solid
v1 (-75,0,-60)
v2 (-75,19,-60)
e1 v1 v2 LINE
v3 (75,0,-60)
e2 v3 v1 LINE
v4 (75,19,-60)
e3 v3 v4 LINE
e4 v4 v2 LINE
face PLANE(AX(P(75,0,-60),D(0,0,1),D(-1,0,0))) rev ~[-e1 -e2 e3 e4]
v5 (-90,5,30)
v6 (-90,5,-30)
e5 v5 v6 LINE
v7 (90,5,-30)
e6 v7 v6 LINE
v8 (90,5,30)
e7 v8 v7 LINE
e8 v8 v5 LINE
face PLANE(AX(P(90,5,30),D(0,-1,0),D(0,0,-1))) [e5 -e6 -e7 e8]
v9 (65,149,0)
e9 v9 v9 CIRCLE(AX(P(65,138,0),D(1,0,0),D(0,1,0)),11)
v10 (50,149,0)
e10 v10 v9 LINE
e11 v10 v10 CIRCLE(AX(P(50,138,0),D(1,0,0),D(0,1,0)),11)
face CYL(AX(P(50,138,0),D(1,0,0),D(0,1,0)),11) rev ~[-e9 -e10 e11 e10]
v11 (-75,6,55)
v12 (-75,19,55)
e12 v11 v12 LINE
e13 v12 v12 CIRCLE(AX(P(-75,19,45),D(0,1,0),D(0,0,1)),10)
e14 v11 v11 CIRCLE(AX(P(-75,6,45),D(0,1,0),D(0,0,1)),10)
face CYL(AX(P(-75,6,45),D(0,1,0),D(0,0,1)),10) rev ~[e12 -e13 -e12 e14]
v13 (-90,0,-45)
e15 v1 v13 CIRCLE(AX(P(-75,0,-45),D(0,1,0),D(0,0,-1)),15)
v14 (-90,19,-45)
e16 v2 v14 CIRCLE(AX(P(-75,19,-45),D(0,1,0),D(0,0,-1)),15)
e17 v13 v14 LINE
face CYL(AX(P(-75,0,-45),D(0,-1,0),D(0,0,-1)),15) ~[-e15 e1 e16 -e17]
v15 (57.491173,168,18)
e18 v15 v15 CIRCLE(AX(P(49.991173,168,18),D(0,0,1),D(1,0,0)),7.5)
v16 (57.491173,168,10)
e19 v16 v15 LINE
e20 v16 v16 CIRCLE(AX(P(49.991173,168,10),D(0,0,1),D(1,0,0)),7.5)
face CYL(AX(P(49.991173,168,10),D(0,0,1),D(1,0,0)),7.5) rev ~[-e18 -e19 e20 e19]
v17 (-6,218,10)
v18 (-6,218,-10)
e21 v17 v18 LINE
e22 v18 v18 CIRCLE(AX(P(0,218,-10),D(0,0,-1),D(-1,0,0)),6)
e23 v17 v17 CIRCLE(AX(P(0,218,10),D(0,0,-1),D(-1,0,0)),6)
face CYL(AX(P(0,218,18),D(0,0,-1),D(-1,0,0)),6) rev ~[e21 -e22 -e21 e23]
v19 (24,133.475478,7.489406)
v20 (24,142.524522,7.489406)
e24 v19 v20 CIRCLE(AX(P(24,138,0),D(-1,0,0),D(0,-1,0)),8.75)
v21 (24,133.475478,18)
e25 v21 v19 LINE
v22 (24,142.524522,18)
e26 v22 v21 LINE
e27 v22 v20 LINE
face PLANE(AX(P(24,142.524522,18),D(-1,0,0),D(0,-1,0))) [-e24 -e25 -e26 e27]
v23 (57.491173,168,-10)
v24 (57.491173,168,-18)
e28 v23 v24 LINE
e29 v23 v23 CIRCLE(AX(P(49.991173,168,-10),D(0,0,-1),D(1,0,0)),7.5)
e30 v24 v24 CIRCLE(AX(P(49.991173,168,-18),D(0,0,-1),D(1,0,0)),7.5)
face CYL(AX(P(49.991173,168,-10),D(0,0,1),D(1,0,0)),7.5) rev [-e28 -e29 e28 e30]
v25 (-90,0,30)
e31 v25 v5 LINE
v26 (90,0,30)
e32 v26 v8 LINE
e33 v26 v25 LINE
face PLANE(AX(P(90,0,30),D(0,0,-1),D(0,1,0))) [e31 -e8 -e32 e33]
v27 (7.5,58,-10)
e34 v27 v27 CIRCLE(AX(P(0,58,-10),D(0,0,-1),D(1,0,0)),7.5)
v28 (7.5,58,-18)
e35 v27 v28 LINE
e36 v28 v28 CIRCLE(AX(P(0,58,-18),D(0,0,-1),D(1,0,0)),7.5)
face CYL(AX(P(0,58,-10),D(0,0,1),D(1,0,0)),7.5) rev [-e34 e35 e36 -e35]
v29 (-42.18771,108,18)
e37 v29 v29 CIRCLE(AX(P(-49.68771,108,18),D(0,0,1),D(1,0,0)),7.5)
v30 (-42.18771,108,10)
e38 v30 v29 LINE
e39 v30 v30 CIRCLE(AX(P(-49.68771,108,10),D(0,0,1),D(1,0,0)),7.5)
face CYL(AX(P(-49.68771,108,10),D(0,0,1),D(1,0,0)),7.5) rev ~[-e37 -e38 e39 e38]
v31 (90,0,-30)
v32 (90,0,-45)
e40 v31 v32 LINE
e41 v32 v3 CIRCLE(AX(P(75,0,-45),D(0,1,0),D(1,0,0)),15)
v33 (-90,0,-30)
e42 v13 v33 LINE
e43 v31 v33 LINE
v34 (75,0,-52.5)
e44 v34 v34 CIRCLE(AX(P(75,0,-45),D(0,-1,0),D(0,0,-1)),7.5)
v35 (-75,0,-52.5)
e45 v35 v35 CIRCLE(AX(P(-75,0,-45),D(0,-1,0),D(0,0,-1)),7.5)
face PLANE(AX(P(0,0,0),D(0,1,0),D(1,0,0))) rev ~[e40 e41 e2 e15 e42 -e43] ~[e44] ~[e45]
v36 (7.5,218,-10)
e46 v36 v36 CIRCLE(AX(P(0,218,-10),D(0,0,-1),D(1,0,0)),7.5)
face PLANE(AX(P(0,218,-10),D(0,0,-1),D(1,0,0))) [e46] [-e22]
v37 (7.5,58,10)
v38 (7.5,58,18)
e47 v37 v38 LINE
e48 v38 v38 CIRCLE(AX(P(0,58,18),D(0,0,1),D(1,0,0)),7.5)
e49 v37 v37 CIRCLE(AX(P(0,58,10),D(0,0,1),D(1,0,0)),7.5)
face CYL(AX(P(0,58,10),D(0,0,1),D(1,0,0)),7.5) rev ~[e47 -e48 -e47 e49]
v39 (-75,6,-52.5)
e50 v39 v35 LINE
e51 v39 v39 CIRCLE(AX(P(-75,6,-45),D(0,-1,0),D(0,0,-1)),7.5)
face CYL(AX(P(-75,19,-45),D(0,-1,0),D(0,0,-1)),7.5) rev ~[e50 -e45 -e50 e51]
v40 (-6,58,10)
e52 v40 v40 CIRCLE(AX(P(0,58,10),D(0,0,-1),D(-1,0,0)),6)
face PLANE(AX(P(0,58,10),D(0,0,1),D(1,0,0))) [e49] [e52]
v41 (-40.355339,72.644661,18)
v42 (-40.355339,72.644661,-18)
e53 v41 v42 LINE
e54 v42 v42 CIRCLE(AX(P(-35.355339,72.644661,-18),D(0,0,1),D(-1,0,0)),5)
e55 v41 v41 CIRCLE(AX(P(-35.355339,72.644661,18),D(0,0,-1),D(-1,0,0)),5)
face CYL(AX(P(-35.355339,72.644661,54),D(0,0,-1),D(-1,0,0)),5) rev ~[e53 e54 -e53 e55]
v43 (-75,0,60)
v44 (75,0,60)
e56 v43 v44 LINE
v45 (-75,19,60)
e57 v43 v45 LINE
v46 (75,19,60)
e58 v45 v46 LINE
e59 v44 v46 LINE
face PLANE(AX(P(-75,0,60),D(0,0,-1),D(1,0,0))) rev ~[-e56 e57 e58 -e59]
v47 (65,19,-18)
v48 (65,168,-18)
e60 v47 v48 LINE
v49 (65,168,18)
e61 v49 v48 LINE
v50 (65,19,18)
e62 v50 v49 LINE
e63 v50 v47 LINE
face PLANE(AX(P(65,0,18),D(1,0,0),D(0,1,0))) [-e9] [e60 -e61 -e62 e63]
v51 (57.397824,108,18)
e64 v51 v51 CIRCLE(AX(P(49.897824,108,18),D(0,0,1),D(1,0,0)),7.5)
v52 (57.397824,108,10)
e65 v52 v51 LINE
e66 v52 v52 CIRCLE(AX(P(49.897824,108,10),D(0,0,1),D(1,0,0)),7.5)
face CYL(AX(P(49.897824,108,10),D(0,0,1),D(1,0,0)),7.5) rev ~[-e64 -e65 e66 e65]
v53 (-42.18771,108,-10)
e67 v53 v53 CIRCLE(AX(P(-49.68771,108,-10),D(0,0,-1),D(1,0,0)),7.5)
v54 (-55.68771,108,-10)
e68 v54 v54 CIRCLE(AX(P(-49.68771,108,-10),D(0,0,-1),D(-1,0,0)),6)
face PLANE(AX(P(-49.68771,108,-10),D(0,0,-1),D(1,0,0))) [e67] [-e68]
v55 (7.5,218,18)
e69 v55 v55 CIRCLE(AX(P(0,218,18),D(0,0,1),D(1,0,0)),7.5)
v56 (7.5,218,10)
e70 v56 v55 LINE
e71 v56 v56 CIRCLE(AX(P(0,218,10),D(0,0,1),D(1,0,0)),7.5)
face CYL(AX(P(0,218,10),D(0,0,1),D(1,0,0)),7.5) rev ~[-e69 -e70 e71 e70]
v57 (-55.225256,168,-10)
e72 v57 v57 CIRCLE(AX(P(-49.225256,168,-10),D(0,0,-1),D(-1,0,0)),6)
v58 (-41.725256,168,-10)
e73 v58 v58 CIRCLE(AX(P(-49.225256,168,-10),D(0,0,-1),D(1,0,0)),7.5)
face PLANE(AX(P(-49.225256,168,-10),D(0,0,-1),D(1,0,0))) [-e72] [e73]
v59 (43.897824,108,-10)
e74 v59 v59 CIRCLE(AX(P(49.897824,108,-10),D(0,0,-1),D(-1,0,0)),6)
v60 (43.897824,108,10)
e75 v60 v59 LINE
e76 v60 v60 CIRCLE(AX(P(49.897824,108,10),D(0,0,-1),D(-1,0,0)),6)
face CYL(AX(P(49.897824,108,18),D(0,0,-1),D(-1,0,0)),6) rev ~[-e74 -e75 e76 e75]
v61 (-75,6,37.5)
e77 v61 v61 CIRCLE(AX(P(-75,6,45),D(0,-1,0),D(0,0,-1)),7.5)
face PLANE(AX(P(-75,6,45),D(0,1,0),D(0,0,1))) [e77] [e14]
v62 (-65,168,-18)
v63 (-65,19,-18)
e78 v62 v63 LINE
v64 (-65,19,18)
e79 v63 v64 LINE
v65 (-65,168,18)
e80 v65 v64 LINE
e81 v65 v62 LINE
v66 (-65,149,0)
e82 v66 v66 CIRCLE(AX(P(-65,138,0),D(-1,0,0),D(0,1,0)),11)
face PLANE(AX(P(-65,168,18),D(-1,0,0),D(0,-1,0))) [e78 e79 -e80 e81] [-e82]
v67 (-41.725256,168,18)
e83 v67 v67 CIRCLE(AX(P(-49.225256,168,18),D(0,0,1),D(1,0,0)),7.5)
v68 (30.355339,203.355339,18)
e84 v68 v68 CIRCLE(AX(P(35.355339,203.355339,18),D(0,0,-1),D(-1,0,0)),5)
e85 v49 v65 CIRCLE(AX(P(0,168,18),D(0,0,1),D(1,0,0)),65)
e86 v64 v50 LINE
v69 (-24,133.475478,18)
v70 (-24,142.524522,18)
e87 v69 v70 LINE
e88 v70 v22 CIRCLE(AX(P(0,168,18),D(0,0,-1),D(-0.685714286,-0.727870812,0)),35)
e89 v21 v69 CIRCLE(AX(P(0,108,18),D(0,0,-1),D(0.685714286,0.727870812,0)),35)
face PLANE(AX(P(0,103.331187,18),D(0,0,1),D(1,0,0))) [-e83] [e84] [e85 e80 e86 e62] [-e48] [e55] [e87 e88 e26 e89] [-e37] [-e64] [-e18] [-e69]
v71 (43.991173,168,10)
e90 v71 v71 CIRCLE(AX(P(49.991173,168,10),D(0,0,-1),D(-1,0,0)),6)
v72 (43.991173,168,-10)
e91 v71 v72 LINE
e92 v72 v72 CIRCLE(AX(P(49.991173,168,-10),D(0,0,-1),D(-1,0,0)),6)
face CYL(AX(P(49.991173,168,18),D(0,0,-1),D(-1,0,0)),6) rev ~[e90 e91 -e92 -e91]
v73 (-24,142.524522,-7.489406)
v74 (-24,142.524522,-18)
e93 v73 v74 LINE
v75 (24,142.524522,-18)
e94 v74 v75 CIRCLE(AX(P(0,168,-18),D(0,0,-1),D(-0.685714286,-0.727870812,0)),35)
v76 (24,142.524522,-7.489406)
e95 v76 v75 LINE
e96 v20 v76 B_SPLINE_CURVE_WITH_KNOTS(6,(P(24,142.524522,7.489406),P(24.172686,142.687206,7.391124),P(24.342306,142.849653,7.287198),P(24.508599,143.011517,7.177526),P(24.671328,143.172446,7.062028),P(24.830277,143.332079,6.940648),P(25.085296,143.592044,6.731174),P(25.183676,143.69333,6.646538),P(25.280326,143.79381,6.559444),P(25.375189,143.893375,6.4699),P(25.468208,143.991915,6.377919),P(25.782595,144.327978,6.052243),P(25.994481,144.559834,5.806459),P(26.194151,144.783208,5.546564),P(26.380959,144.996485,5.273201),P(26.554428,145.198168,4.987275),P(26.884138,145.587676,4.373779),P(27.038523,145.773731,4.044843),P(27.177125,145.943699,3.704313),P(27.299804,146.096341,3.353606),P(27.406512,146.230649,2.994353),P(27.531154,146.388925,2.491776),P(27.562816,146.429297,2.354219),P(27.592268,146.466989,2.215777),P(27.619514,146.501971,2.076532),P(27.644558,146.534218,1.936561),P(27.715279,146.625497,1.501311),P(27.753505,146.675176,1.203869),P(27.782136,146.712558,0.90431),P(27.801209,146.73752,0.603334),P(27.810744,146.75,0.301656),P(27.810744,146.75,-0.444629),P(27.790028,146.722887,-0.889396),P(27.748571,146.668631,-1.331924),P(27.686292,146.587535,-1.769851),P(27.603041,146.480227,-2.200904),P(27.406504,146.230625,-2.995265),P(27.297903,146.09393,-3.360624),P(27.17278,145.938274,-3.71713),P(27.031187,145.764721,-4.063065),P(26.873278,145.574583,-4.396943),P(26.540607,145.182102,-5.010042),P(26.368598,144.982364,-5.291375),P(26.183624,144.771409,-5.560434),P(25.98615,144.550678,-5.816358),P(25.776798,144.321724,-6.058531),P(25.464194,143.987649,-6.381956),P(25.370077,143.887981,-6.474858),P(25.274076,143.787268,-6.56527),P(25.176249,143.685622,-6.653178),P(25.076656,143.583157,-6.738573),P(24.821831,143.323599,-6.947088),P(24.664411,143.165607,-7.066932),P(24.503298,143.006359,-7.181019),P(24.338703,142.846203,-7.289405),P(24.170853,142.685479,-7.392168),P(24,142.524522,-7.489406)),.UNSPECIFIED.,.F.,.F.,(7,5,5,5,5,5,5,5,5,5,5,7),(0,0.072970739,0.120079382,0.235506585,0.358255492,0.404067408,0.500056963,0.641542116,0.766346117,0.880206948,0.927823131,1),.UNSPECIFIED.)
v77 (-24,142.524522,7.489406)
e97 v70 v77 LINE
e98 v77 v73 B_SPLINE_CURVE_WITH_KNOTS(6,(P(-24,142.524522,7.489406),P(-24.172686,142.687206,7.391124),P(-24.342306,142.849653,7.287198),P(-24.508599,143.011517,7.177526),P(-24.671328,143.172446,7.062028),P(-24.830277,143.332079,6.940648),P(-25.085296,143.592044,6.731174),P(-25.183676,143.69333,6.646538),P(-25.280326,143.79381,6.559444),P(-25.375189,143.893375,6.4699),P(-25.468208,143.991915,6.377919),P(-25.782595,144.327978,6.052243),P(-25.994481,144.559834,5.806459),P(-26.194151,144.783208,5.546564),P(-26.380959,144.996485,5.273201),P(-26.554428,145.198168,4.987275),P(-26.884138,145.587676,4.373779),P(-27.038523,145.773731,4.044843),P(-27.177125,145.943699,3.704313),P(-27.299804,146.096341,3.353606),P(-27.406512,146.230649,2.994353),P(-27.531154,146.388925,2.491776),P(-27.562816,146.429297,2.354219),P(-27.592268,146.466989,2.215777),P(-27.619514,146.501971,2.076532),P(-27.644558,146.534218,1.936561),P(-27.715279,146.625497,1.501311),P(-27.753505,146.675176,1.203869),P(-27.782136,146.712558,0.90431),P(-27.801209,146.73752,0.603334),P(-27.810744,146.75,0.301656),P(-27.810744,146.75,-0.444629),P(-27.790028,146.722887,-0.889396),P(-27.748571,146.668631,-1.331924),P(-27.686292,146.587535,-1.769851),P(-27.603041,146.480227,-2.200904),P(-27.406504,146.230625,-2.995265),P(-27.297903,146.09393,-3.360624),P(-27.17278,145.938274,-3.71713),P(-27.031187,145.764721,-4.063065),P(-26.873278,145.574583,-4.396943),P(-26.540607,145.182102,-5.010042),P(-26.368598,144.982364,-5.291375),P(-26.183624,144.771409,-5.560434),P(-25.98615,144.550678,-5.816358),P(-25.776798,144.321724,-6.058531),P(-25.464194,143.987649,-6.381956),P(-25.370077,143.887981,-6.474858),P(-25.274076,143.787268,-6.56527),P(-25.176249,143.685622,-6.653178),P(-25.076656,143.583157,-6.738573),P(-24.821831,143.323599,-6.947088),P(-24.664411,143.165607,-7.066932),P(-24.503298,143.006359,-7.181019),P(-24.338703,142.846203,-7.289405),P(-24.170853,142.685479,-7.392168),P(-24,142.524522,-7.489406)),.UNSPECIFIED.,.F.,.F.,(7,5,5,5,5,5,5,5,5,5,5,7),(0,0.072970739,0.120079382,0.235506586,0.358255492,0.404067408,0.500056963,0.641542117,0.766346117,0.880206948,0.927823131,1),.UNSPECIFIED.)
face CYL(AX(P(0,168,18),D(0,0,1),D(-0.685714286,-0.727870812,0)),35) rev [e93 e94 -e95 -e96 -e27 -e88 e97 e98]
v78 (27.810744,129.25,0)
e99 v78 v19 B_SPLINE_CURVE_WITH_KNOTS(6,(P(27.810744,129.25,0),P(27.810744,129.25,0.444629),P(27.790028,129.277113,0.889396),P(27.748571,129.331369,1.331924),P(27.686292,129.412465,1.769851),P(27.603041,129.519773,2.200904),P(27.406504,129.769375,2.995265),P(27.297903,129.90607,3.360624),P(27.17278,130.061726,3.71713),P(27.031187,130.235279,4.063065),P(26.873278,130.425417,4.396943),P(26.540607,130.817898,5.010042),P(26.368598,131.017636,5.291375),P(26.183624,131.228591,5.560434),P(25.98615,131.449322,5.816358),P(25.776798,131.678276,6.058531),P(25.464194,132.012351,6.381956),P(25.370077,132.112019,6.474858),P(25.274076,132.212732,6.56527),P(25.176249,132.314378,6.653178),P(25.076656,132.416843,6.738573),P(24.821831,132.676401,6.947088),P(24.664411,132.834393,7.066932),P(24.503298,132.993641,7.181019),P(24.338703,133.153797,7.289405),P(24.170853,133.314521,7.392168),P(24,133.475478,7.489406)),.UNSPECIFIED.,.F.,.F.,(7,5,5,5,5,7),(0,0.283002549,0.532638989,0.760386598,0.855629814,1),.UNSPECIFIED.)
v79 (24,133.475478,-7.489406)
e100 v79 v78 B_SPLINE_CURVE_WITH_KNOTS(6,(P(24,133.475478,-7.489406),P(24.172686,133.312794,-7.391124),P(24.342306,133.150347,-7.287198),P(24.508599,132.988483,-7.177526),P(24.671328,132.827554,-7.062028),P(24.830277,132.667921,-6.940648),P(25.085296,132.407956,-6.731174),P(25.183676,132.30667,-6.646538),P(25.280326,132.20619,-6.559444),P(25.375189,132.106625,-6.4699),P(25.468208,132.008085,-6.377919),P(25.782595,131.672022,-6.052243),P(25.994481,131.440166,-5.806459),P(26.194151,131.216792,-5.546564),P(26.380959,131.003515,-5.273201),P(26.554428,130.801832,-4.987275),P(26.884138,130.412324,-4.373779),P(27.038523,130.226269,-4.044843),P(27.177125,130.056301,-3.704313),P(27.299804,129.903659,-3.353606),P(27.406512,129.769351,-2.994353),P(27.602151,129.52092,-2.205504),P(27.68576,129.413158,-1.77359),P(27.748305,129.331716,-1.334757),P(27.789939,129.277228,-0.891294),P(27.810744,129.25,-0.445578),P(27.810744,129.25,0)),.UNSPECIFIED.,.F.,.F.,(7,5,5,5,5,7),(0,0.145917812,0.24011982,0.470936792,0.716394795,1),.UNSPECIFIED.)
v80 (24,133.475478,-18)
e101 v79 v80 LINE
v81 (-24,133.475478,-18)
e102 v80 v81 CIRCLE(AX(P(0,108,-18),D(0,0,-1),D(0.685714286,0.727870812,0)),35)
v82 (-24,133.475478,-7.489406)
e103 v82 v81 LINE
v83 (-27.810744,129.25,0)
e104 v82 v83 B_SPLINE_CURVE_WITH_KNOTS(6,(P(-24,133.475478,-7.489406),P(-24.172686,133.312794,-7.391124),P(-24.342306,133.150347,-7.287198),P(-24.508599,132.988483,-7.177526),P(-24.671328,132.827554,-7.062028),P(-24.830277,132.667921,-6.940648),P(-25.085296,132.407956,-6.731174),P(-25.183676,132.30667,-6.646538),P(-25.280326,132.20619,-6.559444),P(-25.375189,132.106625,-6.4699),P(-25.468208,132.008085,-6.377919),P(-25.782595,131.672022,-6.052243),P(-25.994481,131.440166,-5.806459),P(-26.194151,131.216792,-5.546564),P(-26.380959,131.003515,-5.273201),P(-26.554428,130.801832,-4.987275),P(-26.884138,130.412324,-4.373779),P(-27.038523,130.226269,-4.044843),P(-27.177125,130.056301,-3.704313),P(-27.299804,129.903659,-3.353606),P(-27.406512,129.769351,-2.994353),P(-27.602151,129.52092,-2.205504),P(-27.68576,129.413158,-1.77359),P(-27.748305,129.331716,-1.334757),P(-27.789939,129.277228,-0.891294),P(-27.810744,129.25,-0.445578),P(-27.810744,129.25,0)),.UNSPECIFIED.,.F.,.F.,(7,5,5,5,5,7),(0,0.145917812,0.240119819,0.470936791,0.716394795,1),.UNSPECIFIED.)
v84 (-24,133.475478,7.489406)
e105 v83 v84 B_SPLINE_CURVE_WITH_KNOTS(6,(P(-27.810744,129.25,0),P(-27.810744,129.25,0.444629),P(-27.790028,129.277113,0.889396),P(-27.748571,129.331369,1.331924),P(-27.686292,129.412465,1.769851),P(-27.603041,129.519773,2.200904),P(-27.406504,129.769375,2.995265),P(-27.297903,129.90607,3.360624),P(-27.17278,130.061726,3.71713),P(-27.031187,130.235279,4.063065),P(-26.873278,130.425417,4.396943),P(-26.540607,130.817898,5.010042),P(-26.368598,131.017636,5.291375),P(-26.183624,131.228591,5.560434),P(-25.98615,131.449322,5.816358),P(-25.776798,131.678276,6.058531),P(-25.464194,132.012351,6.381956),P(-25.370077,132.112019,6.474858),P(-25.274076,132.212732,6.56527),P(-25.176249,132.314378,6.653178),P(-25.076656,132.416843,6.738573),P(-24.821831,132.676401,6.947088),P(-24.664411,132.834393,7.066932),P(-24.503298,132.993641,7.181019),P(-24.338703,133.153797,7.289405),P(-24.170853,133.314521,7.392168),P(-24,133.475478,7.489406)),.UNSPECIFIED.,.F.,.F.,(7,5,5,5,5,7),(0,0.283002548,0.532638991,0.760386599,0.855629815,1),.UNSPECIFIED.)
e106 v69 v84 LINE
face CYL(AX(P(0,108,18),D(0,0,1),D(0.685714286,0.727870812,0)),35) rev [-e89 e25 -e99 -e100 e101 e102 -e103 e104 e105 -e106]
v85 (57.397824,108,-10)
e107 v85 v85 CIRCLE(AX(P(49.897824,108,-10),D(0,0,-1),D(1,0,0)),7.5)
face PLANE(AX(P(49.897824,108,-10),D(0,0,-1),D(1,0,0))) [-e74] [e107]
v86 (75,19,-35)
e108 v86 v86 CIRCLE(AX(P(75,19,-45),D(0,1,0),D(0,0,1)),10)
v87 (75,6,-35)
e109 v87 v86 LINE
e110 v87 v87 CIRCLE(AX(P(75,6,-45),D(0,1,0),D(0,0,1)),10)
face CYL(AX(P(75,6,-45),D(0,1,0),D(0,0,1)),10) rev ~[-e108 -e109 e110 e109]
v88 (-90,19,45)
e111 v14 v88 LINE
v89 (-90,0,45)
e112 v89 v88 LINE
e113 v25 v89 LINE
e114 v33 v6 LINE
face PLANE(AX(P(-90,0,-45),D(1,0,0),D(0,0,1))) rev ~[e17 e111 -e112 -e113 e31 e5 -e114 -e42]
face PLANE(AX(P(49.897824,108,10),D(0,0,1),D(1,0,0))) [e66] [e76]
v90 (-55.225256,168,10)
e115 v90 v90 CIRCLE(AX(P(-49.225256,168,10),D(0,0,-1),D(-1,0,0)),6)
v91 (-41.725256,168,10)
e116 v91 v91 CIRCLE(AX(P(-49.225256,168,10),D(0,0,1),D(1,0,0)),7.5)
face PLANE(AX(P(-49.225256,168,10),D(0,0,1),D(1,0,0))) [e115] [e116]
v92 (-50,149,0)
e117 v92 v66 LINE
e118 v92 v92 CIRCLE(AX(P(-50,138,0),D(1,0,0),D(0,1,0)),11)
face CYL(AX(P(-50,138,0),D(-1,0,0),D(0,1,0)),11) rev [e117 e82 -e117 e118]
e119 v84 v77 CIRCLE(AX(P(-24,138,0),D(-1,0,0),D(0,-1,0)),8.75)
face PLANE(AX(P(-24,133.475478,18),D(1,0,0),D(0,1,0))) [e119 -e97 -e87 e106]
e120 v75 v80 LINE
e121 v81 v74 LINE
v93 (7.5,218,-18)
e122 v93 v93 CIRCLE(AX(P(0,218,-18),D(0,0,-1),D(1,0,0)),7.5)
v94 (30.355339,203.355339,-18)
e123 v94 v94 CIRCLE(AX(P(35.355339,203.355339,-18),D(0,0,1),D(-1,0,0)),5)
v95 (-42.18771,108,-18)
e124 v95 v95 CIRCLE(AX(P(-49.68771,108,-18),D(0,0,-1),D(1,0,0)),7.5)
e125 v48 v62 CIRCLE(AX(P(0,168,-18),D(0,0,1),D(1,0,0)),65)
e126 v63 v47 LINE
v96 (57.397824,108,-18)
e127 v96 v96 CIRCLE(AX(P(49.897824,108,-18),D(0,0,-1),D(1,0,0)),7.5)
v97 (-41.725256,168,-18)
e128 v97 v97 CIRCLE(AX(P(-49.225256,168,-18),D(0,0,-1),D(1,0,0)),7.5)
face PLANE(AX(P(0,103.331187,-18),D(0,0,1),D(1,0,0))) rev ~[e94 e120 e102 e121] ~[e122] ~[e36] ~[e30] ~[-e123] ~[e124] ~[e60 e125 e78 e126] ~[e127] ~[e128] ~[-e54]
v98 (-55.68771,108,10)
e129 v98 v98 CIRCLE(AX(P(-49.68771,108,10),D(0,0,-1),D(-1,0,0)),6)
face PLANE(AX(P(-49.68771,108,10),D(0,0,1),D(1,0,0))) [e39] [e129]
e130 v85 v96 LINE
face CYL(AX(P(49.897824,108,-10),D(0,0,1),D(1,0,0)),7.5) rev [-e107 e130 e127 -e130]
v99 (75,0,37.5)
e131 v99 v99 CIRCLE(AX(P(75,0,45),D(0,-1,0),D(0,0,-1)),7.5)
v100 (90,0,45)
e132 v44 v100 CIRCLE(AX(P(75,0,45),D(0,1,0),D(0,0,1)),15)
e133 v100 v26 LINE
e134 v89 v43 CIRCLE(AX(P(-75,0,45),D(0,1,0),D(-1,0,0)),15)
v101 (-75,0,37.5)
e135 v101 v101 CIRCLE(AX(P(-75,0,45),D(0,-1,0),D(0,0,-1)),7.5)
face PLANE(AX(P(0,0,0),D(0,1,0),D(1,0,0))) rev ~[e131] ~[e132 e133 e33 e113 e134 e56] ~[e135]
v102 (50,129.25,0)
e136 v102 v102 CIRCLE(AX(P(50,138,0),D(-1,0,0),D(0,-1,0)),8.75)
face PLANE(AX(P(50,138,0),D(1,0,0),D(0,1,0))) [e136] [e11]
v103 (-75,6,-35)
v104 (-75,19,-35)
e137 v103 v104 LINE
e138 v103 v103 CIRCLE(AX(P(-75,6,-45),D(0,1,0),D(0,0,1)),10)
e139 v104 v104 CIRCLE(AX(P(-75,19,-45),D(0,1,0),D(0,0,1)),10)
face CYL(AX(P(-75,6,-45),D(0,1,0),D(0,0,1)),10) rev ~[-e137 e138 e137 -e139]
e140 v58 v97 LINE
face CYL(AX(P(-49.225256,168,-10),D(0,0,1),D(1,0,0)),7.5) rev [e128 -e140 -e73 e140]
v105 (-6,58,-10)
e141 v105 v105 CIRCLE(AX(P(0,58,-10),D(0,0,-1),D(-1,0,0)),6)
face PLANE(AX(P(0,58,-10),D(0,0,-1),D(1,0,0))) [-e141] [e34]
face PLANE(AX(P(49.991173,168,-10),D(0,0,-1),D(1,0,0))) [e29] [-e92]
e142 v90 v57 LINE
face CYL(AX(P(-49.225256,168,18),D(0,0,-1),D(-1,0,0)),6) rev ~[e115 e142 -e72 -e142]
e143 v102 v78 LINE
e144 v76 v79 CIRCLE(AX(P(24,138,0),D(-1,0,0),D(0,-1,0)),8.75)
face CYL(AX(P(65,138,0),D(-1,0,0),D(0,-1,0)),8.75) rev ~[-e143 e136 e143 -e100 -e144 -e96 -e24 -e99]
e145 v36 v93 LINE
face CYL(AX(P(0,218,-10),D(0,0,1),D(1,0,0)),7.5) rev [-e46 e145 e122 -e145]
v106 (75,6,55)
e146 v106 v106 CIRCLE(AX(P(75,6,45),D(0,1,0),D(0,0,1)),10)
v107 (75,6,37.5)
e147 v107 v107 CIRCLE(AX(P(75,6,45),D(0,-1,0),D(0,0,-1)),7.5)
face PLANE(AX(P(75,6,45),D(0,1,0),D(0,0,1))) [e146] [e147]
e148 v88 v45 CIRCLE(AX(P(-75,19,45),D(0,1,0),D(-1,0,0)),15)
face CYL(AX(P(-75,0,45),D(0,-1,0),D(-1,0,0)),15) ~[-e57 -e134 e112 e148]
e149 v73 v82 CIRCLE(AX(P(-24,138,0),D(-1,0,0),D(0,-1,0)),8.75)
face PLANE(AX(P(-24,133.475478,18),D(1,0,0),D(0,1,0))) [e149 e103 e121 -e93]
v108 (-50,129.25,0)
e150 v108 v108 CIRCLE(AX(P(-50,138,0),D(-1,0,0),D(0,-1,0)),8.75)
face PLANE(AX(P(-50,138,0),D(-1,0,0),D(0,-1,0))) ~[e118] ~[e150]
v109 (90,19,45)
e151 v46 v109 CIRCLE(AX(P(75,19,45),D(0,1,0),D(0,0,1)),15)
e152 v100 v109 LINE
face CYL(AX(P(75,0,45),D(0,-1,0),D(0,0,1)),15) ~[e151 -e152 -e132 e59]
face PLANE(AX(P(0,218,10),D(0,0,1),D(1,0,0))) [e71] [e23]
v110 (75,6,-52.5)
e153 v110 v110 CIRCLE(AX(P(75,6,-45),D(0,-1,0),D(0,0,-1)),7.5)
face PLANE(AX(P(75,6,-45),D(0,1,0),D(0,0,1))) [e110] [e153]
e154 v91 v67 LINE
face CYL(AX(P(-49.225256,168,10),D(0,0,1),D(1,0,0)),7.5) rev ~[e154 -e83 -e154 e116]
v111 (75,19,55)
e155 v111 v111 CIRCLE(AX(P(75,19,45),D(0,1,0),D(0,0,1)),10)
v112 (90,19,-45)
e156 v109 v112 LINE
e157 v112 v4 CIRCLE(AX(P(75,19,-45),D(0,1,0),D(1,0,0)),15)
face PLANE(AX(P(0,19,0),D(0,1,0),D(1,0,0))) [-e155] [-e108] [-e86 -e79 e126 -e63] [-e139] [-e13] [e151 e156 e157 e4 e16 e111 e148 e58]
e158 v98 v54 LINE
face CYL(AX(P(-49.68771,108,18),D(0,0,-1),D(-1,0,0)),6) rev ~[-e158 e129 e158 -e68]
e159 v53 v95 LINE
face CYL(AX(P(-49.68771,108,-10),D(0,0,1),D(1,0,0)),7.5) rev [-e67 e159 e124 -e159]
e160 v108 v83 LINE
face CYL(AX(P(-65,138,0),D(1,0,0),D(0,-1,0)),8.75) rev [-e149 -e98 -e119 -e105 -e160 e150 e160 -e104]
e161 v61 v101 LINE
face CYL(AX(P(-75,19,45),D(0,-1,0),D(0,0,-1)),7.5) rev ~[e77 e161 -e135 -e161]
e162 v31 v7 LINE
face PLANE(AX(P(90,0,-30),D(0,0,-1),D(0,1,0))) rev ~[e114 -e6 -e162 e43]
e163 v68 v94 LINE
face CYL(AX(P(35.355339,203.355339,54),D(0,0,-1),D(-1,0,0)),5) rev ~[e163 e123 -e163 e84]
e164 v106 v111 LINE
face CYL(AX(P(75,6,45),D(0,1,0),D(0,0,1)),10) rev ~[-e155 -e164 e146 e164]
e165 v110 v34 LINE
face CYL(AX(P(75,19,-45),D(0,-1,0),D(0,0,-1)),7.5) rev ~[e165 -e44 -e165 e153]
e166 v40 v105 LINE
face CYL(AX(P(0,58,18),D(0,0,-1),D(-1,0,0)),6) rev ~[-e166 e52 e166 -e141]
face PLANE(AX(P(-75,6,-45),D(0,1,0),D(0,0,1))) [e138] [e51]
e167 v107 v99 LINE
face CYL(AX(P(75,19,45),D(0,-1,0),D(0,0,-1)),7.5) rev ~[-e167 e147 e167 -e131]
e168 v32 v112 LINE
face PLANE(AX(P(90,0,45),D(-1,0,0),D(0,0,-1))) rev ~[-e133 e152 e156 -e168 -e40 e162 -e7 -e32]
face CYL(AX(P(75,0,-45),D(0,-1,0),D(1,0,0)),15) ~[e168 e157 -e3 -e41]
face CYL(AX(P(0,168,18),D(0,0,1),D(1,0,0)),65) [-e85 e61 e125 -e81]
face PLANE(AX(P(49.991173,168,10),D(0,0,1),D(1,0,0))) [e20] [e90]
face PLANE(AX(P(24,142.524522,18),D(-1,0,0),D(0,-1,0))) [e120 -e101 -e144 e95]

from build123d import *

# Parameters (mm, degrees)
BOSS_EXTRUDE1_DEPTH                      = 19
CBORE_FOR_M6_HEX_HEAD_BOLT1_D            = 15
CBORE_FOR_M6_HEX_HEAD_BOLT1_CBORE_D      = 20
CBORE_FOR_M6_HEX_HEAD_BOLT1_CBORE_DEPTH  = 13
BOSS_EXTRUDE2_DEPTH                      = 36
CUT_EXTRUDE1_DEPTH                       = 36
CBORE_FOR_M16_HEX_HEAD_BOLT1_D           = 17.5
CBORE_FOR_M16_HEX_HEAD_BOLT1_DEPTH       = 41
CBORE_FOR_M16_HEX_HEAD_BOLT1_CBORE_D     = 22
CBORE_FOR_M16_HEX_HEAD_BOLT1_CBORE_DEPTH = 15
CBORE_FOR_M5_HEX_HEAD_BOLT1_D            = 12
CBORE_FOR_M5_HEX_HEAD_BOLT1_CBORE_D      = 15
CBORE_FOR_M5_HEX_HEAD_BOLT1_CBORE_DEPTH  = 8
SKETCH9_W                                = 60
SKETCH9_H                                = 5
CUT_EXTRUDE2_DEPTH                       = 301.481280615
F_10_0MM_DOWEL_HOLE1_D                   = 10
F_10_0MM_DOWEL_HOLE1_DEPTH               = 36
F_10_0MM_DOWEL_HOLE1_TIP                 = 3.004303095
CUT_EXTRUDE3_START                       = -8
SKETCH12_R                               = 7.5
CUT_EXTRUDE3_DEPTH                       = 8


with BuildPart() as part:
    # Sketch1 → Boss-Extrude1 (new body)
    with BuildSketch(Plane(origin=(0, 0, 0), x_dir=(1, 0, 0), z_dir=(0, 1, 0))):
        with BuildLine():
            Line((-75, -60), (75, -60))
            ThreePointArc((75, -60), (85.606601718, -55.606601718), (90, -45))
            Line((90, -45), (90, 45))
            ThreePointArc((90, 45), (85.606601718, 55.606601718), (75, 60))
            Line((75, 60), (-75, 60))
            ThreePointArc((-75, 60), (-85.606601718, 55.606601718), (-90, 45))
            Line((-90, 45), (-90, -45))
            ThreePointArc((-90, -45), (-85.606601718, -55.606601718), (-75, -60))
        make_face()
    extrude(amount=BOSS_EXTRUDE1_DEPTH)

    # CBORE for M6 Hex Head Bolt1 (through all)
    with Locations(Plane(origin=(-75, 19, 45), x_dir=(0, 0, 1), z_dir=(0, 1, 0))):
        with Locations((0, 0), (-90, 0), (-90, 150), (0, 150)):
            CounterBoreHole(CBORE_FOR_M6_HEX_HEAD_BOLT1_D / 2, CBORE_FOR_M6_HEX_HEAD_BOLT1_CBORE_D / 2, CBORE_FOR_M6_HEX_HEAD_BOLT1_CBORE_DEPTH)

    # Sketch3 → Boss-Extrude2 (add)
    with BuildSketch(Plane.XY.offset(18)):
        with BuildLine():
            Line((-65, 168), (-65, 0))
            Line((-65, 0), (65, 0))
            Line((65, 0), (65, 168))
            ThreePointArc((65, 168), (0, 233), (-65, 168))
        make_face()
    extrude(amount=-BOSS_EXTRUDE2_DEPTH)

    # Sketch4 → Cut-Extrude1 (cut)
    with BuildSketch(Plane.XY.offset(18)):
        with BuildLine():
            Line((24, 142.524521594), (24, 133.475478406))
            ThreePointArc((24, 133.475478406), (0, 73), (-24, 133.475478406))
            Line((-24, 133.475478406), (-24, 142.524521594))
            ThreePointArc((-24, 142.524521594), (0, 203), (24, 142.524521594))
        make_face()
    extrude(amount=-CUT_EXTRUDE1_DEPTH, mode=Mode.SUBTRACT)

    # CBORE for M16 Hex Head Bolt1
    with Locations(Plane(origin=(65, 138, 0), x_dir=(0, 1, 0), z_dir=(1, 0, 0))):
        with Locations((0, 0)):
            cbore_for_m16_hex_head_bolt1 = CounterBoreHole(CBORE_FOR_M16_HEX_HEAD_BOLT1_D / 2, CBORE_FOR_M16_HEX_HEAD_BOLT1_CBORE_D / 2, CBORE_FOR_M16_HEX_HEAD_BOLT1_CBORE_DEPTH, depth=CBORE_FOR_M16_HEX_HEAD_BOLT1_DEPTH)

    # Mirror1: CBORE for M16 Hex Head Bolt1 across plane
    add(cbore_for_m16_hex_head_bolt1.mirror(Plane(origin=(0, 0, 0), x_dir=(0, 0, 1), z_dir=(1, 0, 0))), mode=Mode.SUBTRACT)

    # CBORE for M5 Hex Head Bolt1 (through all)
    with Locations(Plane(origin=(0, 218, 18), x_dir=(1, 0, 0), z_dir=(0, 0, 1))):
        with Locations((0, 0), (-49.225256247, -50), (-49.687709551, -110), (0, -160), (49.897824361, -110), (49.991173273, -50)):
            CounterBoreHole(CBORE_FOR_M5_HEX_HEAD_BOLT1_D / 2, CBORE_FOR_M5_HEX_HEAD_BOLT1_CBORE_D / 2, CBORE_FOR_M5_HEX_HEAD_BOLT1_CBORE_DEPTH)

    # Sketch9 → Cut-Extrude2 (cut, through all)
    with BuildSketch(Plane(origin=(90, 0, 0), x_dir=(0, 0, -1), z_dir=(1, 0, 0))):
        with Locations((0, 2.5)):
            Rectangle(SKETCH9_W, SKETCH9_H)
    extrude(amount=-CUT_EXTRUDE2_DEPTH, mode=Mode.SUBTRACT)

    # Ø10.0mm Dowel Hole1
    with Locations(Plane(origin=(35.355339059, 203.355339059, 18), x_dir=(1, 0, 0), z_dir=(0, 0, 1))):
        with Locations((0, 0), (-70.710678118, -130.710678118)):
            Hole(F_10_0MM_DOWEL_HOLE1_D / 2, depth=F_10_0MM_DOWEL_HOLE1_DEPTH)
            with Locations((0, 0, -(F_10_0MM_DOWEL_HOLE1_DEPTH + F_10_0MM_DOWEL_HOLE1_TIP / 2))):  # 118° drill point
                Cone(0, F_10_0MM_DOWEL_HOLE1_D / 2, F_10_0MM_DOWEL_HOLE1_TIP, mode=Mode.SUBTRACT)

    # Sketch12 → Cut-Extrude3 (cut)
    with BuildSketch(Plane(origin=(0, 0, -18), x_dir=(-1, 0, 0), z_dir=(0, 0, -1)).offset(CUT_EXTRUDE3_START)):
        with Locations(Location((0, 218, 0), (0, 0, 180))):
            Circle(SKETCH12_R)
        with Locations(Location((-49.991173273, 168, 0), (0, 0, 180))):
            Circle(SKETCH12_R)
        with Locations(Location((-49.897824361, 108, 0), (0, 0, 180))):
            Circle(SKETCH12_R)
        with Locations(Location((49.687709551, 108, 0), (0, 0, 180))):
            Circle(SKETCH12_R)
        with Locations(Location((49.225256247, 168, 0), (0, 0, 180))):
            Circle(SKETCH12_R)
        with Locations(Location((0, 58, 0), (0, 0, 180))):
            Circle(SKETCH12_R)
    extrude(amount=CUT_EXTRUDE3_DEPTH, mode=Mode.SUBTRACT)


solid = part.part
